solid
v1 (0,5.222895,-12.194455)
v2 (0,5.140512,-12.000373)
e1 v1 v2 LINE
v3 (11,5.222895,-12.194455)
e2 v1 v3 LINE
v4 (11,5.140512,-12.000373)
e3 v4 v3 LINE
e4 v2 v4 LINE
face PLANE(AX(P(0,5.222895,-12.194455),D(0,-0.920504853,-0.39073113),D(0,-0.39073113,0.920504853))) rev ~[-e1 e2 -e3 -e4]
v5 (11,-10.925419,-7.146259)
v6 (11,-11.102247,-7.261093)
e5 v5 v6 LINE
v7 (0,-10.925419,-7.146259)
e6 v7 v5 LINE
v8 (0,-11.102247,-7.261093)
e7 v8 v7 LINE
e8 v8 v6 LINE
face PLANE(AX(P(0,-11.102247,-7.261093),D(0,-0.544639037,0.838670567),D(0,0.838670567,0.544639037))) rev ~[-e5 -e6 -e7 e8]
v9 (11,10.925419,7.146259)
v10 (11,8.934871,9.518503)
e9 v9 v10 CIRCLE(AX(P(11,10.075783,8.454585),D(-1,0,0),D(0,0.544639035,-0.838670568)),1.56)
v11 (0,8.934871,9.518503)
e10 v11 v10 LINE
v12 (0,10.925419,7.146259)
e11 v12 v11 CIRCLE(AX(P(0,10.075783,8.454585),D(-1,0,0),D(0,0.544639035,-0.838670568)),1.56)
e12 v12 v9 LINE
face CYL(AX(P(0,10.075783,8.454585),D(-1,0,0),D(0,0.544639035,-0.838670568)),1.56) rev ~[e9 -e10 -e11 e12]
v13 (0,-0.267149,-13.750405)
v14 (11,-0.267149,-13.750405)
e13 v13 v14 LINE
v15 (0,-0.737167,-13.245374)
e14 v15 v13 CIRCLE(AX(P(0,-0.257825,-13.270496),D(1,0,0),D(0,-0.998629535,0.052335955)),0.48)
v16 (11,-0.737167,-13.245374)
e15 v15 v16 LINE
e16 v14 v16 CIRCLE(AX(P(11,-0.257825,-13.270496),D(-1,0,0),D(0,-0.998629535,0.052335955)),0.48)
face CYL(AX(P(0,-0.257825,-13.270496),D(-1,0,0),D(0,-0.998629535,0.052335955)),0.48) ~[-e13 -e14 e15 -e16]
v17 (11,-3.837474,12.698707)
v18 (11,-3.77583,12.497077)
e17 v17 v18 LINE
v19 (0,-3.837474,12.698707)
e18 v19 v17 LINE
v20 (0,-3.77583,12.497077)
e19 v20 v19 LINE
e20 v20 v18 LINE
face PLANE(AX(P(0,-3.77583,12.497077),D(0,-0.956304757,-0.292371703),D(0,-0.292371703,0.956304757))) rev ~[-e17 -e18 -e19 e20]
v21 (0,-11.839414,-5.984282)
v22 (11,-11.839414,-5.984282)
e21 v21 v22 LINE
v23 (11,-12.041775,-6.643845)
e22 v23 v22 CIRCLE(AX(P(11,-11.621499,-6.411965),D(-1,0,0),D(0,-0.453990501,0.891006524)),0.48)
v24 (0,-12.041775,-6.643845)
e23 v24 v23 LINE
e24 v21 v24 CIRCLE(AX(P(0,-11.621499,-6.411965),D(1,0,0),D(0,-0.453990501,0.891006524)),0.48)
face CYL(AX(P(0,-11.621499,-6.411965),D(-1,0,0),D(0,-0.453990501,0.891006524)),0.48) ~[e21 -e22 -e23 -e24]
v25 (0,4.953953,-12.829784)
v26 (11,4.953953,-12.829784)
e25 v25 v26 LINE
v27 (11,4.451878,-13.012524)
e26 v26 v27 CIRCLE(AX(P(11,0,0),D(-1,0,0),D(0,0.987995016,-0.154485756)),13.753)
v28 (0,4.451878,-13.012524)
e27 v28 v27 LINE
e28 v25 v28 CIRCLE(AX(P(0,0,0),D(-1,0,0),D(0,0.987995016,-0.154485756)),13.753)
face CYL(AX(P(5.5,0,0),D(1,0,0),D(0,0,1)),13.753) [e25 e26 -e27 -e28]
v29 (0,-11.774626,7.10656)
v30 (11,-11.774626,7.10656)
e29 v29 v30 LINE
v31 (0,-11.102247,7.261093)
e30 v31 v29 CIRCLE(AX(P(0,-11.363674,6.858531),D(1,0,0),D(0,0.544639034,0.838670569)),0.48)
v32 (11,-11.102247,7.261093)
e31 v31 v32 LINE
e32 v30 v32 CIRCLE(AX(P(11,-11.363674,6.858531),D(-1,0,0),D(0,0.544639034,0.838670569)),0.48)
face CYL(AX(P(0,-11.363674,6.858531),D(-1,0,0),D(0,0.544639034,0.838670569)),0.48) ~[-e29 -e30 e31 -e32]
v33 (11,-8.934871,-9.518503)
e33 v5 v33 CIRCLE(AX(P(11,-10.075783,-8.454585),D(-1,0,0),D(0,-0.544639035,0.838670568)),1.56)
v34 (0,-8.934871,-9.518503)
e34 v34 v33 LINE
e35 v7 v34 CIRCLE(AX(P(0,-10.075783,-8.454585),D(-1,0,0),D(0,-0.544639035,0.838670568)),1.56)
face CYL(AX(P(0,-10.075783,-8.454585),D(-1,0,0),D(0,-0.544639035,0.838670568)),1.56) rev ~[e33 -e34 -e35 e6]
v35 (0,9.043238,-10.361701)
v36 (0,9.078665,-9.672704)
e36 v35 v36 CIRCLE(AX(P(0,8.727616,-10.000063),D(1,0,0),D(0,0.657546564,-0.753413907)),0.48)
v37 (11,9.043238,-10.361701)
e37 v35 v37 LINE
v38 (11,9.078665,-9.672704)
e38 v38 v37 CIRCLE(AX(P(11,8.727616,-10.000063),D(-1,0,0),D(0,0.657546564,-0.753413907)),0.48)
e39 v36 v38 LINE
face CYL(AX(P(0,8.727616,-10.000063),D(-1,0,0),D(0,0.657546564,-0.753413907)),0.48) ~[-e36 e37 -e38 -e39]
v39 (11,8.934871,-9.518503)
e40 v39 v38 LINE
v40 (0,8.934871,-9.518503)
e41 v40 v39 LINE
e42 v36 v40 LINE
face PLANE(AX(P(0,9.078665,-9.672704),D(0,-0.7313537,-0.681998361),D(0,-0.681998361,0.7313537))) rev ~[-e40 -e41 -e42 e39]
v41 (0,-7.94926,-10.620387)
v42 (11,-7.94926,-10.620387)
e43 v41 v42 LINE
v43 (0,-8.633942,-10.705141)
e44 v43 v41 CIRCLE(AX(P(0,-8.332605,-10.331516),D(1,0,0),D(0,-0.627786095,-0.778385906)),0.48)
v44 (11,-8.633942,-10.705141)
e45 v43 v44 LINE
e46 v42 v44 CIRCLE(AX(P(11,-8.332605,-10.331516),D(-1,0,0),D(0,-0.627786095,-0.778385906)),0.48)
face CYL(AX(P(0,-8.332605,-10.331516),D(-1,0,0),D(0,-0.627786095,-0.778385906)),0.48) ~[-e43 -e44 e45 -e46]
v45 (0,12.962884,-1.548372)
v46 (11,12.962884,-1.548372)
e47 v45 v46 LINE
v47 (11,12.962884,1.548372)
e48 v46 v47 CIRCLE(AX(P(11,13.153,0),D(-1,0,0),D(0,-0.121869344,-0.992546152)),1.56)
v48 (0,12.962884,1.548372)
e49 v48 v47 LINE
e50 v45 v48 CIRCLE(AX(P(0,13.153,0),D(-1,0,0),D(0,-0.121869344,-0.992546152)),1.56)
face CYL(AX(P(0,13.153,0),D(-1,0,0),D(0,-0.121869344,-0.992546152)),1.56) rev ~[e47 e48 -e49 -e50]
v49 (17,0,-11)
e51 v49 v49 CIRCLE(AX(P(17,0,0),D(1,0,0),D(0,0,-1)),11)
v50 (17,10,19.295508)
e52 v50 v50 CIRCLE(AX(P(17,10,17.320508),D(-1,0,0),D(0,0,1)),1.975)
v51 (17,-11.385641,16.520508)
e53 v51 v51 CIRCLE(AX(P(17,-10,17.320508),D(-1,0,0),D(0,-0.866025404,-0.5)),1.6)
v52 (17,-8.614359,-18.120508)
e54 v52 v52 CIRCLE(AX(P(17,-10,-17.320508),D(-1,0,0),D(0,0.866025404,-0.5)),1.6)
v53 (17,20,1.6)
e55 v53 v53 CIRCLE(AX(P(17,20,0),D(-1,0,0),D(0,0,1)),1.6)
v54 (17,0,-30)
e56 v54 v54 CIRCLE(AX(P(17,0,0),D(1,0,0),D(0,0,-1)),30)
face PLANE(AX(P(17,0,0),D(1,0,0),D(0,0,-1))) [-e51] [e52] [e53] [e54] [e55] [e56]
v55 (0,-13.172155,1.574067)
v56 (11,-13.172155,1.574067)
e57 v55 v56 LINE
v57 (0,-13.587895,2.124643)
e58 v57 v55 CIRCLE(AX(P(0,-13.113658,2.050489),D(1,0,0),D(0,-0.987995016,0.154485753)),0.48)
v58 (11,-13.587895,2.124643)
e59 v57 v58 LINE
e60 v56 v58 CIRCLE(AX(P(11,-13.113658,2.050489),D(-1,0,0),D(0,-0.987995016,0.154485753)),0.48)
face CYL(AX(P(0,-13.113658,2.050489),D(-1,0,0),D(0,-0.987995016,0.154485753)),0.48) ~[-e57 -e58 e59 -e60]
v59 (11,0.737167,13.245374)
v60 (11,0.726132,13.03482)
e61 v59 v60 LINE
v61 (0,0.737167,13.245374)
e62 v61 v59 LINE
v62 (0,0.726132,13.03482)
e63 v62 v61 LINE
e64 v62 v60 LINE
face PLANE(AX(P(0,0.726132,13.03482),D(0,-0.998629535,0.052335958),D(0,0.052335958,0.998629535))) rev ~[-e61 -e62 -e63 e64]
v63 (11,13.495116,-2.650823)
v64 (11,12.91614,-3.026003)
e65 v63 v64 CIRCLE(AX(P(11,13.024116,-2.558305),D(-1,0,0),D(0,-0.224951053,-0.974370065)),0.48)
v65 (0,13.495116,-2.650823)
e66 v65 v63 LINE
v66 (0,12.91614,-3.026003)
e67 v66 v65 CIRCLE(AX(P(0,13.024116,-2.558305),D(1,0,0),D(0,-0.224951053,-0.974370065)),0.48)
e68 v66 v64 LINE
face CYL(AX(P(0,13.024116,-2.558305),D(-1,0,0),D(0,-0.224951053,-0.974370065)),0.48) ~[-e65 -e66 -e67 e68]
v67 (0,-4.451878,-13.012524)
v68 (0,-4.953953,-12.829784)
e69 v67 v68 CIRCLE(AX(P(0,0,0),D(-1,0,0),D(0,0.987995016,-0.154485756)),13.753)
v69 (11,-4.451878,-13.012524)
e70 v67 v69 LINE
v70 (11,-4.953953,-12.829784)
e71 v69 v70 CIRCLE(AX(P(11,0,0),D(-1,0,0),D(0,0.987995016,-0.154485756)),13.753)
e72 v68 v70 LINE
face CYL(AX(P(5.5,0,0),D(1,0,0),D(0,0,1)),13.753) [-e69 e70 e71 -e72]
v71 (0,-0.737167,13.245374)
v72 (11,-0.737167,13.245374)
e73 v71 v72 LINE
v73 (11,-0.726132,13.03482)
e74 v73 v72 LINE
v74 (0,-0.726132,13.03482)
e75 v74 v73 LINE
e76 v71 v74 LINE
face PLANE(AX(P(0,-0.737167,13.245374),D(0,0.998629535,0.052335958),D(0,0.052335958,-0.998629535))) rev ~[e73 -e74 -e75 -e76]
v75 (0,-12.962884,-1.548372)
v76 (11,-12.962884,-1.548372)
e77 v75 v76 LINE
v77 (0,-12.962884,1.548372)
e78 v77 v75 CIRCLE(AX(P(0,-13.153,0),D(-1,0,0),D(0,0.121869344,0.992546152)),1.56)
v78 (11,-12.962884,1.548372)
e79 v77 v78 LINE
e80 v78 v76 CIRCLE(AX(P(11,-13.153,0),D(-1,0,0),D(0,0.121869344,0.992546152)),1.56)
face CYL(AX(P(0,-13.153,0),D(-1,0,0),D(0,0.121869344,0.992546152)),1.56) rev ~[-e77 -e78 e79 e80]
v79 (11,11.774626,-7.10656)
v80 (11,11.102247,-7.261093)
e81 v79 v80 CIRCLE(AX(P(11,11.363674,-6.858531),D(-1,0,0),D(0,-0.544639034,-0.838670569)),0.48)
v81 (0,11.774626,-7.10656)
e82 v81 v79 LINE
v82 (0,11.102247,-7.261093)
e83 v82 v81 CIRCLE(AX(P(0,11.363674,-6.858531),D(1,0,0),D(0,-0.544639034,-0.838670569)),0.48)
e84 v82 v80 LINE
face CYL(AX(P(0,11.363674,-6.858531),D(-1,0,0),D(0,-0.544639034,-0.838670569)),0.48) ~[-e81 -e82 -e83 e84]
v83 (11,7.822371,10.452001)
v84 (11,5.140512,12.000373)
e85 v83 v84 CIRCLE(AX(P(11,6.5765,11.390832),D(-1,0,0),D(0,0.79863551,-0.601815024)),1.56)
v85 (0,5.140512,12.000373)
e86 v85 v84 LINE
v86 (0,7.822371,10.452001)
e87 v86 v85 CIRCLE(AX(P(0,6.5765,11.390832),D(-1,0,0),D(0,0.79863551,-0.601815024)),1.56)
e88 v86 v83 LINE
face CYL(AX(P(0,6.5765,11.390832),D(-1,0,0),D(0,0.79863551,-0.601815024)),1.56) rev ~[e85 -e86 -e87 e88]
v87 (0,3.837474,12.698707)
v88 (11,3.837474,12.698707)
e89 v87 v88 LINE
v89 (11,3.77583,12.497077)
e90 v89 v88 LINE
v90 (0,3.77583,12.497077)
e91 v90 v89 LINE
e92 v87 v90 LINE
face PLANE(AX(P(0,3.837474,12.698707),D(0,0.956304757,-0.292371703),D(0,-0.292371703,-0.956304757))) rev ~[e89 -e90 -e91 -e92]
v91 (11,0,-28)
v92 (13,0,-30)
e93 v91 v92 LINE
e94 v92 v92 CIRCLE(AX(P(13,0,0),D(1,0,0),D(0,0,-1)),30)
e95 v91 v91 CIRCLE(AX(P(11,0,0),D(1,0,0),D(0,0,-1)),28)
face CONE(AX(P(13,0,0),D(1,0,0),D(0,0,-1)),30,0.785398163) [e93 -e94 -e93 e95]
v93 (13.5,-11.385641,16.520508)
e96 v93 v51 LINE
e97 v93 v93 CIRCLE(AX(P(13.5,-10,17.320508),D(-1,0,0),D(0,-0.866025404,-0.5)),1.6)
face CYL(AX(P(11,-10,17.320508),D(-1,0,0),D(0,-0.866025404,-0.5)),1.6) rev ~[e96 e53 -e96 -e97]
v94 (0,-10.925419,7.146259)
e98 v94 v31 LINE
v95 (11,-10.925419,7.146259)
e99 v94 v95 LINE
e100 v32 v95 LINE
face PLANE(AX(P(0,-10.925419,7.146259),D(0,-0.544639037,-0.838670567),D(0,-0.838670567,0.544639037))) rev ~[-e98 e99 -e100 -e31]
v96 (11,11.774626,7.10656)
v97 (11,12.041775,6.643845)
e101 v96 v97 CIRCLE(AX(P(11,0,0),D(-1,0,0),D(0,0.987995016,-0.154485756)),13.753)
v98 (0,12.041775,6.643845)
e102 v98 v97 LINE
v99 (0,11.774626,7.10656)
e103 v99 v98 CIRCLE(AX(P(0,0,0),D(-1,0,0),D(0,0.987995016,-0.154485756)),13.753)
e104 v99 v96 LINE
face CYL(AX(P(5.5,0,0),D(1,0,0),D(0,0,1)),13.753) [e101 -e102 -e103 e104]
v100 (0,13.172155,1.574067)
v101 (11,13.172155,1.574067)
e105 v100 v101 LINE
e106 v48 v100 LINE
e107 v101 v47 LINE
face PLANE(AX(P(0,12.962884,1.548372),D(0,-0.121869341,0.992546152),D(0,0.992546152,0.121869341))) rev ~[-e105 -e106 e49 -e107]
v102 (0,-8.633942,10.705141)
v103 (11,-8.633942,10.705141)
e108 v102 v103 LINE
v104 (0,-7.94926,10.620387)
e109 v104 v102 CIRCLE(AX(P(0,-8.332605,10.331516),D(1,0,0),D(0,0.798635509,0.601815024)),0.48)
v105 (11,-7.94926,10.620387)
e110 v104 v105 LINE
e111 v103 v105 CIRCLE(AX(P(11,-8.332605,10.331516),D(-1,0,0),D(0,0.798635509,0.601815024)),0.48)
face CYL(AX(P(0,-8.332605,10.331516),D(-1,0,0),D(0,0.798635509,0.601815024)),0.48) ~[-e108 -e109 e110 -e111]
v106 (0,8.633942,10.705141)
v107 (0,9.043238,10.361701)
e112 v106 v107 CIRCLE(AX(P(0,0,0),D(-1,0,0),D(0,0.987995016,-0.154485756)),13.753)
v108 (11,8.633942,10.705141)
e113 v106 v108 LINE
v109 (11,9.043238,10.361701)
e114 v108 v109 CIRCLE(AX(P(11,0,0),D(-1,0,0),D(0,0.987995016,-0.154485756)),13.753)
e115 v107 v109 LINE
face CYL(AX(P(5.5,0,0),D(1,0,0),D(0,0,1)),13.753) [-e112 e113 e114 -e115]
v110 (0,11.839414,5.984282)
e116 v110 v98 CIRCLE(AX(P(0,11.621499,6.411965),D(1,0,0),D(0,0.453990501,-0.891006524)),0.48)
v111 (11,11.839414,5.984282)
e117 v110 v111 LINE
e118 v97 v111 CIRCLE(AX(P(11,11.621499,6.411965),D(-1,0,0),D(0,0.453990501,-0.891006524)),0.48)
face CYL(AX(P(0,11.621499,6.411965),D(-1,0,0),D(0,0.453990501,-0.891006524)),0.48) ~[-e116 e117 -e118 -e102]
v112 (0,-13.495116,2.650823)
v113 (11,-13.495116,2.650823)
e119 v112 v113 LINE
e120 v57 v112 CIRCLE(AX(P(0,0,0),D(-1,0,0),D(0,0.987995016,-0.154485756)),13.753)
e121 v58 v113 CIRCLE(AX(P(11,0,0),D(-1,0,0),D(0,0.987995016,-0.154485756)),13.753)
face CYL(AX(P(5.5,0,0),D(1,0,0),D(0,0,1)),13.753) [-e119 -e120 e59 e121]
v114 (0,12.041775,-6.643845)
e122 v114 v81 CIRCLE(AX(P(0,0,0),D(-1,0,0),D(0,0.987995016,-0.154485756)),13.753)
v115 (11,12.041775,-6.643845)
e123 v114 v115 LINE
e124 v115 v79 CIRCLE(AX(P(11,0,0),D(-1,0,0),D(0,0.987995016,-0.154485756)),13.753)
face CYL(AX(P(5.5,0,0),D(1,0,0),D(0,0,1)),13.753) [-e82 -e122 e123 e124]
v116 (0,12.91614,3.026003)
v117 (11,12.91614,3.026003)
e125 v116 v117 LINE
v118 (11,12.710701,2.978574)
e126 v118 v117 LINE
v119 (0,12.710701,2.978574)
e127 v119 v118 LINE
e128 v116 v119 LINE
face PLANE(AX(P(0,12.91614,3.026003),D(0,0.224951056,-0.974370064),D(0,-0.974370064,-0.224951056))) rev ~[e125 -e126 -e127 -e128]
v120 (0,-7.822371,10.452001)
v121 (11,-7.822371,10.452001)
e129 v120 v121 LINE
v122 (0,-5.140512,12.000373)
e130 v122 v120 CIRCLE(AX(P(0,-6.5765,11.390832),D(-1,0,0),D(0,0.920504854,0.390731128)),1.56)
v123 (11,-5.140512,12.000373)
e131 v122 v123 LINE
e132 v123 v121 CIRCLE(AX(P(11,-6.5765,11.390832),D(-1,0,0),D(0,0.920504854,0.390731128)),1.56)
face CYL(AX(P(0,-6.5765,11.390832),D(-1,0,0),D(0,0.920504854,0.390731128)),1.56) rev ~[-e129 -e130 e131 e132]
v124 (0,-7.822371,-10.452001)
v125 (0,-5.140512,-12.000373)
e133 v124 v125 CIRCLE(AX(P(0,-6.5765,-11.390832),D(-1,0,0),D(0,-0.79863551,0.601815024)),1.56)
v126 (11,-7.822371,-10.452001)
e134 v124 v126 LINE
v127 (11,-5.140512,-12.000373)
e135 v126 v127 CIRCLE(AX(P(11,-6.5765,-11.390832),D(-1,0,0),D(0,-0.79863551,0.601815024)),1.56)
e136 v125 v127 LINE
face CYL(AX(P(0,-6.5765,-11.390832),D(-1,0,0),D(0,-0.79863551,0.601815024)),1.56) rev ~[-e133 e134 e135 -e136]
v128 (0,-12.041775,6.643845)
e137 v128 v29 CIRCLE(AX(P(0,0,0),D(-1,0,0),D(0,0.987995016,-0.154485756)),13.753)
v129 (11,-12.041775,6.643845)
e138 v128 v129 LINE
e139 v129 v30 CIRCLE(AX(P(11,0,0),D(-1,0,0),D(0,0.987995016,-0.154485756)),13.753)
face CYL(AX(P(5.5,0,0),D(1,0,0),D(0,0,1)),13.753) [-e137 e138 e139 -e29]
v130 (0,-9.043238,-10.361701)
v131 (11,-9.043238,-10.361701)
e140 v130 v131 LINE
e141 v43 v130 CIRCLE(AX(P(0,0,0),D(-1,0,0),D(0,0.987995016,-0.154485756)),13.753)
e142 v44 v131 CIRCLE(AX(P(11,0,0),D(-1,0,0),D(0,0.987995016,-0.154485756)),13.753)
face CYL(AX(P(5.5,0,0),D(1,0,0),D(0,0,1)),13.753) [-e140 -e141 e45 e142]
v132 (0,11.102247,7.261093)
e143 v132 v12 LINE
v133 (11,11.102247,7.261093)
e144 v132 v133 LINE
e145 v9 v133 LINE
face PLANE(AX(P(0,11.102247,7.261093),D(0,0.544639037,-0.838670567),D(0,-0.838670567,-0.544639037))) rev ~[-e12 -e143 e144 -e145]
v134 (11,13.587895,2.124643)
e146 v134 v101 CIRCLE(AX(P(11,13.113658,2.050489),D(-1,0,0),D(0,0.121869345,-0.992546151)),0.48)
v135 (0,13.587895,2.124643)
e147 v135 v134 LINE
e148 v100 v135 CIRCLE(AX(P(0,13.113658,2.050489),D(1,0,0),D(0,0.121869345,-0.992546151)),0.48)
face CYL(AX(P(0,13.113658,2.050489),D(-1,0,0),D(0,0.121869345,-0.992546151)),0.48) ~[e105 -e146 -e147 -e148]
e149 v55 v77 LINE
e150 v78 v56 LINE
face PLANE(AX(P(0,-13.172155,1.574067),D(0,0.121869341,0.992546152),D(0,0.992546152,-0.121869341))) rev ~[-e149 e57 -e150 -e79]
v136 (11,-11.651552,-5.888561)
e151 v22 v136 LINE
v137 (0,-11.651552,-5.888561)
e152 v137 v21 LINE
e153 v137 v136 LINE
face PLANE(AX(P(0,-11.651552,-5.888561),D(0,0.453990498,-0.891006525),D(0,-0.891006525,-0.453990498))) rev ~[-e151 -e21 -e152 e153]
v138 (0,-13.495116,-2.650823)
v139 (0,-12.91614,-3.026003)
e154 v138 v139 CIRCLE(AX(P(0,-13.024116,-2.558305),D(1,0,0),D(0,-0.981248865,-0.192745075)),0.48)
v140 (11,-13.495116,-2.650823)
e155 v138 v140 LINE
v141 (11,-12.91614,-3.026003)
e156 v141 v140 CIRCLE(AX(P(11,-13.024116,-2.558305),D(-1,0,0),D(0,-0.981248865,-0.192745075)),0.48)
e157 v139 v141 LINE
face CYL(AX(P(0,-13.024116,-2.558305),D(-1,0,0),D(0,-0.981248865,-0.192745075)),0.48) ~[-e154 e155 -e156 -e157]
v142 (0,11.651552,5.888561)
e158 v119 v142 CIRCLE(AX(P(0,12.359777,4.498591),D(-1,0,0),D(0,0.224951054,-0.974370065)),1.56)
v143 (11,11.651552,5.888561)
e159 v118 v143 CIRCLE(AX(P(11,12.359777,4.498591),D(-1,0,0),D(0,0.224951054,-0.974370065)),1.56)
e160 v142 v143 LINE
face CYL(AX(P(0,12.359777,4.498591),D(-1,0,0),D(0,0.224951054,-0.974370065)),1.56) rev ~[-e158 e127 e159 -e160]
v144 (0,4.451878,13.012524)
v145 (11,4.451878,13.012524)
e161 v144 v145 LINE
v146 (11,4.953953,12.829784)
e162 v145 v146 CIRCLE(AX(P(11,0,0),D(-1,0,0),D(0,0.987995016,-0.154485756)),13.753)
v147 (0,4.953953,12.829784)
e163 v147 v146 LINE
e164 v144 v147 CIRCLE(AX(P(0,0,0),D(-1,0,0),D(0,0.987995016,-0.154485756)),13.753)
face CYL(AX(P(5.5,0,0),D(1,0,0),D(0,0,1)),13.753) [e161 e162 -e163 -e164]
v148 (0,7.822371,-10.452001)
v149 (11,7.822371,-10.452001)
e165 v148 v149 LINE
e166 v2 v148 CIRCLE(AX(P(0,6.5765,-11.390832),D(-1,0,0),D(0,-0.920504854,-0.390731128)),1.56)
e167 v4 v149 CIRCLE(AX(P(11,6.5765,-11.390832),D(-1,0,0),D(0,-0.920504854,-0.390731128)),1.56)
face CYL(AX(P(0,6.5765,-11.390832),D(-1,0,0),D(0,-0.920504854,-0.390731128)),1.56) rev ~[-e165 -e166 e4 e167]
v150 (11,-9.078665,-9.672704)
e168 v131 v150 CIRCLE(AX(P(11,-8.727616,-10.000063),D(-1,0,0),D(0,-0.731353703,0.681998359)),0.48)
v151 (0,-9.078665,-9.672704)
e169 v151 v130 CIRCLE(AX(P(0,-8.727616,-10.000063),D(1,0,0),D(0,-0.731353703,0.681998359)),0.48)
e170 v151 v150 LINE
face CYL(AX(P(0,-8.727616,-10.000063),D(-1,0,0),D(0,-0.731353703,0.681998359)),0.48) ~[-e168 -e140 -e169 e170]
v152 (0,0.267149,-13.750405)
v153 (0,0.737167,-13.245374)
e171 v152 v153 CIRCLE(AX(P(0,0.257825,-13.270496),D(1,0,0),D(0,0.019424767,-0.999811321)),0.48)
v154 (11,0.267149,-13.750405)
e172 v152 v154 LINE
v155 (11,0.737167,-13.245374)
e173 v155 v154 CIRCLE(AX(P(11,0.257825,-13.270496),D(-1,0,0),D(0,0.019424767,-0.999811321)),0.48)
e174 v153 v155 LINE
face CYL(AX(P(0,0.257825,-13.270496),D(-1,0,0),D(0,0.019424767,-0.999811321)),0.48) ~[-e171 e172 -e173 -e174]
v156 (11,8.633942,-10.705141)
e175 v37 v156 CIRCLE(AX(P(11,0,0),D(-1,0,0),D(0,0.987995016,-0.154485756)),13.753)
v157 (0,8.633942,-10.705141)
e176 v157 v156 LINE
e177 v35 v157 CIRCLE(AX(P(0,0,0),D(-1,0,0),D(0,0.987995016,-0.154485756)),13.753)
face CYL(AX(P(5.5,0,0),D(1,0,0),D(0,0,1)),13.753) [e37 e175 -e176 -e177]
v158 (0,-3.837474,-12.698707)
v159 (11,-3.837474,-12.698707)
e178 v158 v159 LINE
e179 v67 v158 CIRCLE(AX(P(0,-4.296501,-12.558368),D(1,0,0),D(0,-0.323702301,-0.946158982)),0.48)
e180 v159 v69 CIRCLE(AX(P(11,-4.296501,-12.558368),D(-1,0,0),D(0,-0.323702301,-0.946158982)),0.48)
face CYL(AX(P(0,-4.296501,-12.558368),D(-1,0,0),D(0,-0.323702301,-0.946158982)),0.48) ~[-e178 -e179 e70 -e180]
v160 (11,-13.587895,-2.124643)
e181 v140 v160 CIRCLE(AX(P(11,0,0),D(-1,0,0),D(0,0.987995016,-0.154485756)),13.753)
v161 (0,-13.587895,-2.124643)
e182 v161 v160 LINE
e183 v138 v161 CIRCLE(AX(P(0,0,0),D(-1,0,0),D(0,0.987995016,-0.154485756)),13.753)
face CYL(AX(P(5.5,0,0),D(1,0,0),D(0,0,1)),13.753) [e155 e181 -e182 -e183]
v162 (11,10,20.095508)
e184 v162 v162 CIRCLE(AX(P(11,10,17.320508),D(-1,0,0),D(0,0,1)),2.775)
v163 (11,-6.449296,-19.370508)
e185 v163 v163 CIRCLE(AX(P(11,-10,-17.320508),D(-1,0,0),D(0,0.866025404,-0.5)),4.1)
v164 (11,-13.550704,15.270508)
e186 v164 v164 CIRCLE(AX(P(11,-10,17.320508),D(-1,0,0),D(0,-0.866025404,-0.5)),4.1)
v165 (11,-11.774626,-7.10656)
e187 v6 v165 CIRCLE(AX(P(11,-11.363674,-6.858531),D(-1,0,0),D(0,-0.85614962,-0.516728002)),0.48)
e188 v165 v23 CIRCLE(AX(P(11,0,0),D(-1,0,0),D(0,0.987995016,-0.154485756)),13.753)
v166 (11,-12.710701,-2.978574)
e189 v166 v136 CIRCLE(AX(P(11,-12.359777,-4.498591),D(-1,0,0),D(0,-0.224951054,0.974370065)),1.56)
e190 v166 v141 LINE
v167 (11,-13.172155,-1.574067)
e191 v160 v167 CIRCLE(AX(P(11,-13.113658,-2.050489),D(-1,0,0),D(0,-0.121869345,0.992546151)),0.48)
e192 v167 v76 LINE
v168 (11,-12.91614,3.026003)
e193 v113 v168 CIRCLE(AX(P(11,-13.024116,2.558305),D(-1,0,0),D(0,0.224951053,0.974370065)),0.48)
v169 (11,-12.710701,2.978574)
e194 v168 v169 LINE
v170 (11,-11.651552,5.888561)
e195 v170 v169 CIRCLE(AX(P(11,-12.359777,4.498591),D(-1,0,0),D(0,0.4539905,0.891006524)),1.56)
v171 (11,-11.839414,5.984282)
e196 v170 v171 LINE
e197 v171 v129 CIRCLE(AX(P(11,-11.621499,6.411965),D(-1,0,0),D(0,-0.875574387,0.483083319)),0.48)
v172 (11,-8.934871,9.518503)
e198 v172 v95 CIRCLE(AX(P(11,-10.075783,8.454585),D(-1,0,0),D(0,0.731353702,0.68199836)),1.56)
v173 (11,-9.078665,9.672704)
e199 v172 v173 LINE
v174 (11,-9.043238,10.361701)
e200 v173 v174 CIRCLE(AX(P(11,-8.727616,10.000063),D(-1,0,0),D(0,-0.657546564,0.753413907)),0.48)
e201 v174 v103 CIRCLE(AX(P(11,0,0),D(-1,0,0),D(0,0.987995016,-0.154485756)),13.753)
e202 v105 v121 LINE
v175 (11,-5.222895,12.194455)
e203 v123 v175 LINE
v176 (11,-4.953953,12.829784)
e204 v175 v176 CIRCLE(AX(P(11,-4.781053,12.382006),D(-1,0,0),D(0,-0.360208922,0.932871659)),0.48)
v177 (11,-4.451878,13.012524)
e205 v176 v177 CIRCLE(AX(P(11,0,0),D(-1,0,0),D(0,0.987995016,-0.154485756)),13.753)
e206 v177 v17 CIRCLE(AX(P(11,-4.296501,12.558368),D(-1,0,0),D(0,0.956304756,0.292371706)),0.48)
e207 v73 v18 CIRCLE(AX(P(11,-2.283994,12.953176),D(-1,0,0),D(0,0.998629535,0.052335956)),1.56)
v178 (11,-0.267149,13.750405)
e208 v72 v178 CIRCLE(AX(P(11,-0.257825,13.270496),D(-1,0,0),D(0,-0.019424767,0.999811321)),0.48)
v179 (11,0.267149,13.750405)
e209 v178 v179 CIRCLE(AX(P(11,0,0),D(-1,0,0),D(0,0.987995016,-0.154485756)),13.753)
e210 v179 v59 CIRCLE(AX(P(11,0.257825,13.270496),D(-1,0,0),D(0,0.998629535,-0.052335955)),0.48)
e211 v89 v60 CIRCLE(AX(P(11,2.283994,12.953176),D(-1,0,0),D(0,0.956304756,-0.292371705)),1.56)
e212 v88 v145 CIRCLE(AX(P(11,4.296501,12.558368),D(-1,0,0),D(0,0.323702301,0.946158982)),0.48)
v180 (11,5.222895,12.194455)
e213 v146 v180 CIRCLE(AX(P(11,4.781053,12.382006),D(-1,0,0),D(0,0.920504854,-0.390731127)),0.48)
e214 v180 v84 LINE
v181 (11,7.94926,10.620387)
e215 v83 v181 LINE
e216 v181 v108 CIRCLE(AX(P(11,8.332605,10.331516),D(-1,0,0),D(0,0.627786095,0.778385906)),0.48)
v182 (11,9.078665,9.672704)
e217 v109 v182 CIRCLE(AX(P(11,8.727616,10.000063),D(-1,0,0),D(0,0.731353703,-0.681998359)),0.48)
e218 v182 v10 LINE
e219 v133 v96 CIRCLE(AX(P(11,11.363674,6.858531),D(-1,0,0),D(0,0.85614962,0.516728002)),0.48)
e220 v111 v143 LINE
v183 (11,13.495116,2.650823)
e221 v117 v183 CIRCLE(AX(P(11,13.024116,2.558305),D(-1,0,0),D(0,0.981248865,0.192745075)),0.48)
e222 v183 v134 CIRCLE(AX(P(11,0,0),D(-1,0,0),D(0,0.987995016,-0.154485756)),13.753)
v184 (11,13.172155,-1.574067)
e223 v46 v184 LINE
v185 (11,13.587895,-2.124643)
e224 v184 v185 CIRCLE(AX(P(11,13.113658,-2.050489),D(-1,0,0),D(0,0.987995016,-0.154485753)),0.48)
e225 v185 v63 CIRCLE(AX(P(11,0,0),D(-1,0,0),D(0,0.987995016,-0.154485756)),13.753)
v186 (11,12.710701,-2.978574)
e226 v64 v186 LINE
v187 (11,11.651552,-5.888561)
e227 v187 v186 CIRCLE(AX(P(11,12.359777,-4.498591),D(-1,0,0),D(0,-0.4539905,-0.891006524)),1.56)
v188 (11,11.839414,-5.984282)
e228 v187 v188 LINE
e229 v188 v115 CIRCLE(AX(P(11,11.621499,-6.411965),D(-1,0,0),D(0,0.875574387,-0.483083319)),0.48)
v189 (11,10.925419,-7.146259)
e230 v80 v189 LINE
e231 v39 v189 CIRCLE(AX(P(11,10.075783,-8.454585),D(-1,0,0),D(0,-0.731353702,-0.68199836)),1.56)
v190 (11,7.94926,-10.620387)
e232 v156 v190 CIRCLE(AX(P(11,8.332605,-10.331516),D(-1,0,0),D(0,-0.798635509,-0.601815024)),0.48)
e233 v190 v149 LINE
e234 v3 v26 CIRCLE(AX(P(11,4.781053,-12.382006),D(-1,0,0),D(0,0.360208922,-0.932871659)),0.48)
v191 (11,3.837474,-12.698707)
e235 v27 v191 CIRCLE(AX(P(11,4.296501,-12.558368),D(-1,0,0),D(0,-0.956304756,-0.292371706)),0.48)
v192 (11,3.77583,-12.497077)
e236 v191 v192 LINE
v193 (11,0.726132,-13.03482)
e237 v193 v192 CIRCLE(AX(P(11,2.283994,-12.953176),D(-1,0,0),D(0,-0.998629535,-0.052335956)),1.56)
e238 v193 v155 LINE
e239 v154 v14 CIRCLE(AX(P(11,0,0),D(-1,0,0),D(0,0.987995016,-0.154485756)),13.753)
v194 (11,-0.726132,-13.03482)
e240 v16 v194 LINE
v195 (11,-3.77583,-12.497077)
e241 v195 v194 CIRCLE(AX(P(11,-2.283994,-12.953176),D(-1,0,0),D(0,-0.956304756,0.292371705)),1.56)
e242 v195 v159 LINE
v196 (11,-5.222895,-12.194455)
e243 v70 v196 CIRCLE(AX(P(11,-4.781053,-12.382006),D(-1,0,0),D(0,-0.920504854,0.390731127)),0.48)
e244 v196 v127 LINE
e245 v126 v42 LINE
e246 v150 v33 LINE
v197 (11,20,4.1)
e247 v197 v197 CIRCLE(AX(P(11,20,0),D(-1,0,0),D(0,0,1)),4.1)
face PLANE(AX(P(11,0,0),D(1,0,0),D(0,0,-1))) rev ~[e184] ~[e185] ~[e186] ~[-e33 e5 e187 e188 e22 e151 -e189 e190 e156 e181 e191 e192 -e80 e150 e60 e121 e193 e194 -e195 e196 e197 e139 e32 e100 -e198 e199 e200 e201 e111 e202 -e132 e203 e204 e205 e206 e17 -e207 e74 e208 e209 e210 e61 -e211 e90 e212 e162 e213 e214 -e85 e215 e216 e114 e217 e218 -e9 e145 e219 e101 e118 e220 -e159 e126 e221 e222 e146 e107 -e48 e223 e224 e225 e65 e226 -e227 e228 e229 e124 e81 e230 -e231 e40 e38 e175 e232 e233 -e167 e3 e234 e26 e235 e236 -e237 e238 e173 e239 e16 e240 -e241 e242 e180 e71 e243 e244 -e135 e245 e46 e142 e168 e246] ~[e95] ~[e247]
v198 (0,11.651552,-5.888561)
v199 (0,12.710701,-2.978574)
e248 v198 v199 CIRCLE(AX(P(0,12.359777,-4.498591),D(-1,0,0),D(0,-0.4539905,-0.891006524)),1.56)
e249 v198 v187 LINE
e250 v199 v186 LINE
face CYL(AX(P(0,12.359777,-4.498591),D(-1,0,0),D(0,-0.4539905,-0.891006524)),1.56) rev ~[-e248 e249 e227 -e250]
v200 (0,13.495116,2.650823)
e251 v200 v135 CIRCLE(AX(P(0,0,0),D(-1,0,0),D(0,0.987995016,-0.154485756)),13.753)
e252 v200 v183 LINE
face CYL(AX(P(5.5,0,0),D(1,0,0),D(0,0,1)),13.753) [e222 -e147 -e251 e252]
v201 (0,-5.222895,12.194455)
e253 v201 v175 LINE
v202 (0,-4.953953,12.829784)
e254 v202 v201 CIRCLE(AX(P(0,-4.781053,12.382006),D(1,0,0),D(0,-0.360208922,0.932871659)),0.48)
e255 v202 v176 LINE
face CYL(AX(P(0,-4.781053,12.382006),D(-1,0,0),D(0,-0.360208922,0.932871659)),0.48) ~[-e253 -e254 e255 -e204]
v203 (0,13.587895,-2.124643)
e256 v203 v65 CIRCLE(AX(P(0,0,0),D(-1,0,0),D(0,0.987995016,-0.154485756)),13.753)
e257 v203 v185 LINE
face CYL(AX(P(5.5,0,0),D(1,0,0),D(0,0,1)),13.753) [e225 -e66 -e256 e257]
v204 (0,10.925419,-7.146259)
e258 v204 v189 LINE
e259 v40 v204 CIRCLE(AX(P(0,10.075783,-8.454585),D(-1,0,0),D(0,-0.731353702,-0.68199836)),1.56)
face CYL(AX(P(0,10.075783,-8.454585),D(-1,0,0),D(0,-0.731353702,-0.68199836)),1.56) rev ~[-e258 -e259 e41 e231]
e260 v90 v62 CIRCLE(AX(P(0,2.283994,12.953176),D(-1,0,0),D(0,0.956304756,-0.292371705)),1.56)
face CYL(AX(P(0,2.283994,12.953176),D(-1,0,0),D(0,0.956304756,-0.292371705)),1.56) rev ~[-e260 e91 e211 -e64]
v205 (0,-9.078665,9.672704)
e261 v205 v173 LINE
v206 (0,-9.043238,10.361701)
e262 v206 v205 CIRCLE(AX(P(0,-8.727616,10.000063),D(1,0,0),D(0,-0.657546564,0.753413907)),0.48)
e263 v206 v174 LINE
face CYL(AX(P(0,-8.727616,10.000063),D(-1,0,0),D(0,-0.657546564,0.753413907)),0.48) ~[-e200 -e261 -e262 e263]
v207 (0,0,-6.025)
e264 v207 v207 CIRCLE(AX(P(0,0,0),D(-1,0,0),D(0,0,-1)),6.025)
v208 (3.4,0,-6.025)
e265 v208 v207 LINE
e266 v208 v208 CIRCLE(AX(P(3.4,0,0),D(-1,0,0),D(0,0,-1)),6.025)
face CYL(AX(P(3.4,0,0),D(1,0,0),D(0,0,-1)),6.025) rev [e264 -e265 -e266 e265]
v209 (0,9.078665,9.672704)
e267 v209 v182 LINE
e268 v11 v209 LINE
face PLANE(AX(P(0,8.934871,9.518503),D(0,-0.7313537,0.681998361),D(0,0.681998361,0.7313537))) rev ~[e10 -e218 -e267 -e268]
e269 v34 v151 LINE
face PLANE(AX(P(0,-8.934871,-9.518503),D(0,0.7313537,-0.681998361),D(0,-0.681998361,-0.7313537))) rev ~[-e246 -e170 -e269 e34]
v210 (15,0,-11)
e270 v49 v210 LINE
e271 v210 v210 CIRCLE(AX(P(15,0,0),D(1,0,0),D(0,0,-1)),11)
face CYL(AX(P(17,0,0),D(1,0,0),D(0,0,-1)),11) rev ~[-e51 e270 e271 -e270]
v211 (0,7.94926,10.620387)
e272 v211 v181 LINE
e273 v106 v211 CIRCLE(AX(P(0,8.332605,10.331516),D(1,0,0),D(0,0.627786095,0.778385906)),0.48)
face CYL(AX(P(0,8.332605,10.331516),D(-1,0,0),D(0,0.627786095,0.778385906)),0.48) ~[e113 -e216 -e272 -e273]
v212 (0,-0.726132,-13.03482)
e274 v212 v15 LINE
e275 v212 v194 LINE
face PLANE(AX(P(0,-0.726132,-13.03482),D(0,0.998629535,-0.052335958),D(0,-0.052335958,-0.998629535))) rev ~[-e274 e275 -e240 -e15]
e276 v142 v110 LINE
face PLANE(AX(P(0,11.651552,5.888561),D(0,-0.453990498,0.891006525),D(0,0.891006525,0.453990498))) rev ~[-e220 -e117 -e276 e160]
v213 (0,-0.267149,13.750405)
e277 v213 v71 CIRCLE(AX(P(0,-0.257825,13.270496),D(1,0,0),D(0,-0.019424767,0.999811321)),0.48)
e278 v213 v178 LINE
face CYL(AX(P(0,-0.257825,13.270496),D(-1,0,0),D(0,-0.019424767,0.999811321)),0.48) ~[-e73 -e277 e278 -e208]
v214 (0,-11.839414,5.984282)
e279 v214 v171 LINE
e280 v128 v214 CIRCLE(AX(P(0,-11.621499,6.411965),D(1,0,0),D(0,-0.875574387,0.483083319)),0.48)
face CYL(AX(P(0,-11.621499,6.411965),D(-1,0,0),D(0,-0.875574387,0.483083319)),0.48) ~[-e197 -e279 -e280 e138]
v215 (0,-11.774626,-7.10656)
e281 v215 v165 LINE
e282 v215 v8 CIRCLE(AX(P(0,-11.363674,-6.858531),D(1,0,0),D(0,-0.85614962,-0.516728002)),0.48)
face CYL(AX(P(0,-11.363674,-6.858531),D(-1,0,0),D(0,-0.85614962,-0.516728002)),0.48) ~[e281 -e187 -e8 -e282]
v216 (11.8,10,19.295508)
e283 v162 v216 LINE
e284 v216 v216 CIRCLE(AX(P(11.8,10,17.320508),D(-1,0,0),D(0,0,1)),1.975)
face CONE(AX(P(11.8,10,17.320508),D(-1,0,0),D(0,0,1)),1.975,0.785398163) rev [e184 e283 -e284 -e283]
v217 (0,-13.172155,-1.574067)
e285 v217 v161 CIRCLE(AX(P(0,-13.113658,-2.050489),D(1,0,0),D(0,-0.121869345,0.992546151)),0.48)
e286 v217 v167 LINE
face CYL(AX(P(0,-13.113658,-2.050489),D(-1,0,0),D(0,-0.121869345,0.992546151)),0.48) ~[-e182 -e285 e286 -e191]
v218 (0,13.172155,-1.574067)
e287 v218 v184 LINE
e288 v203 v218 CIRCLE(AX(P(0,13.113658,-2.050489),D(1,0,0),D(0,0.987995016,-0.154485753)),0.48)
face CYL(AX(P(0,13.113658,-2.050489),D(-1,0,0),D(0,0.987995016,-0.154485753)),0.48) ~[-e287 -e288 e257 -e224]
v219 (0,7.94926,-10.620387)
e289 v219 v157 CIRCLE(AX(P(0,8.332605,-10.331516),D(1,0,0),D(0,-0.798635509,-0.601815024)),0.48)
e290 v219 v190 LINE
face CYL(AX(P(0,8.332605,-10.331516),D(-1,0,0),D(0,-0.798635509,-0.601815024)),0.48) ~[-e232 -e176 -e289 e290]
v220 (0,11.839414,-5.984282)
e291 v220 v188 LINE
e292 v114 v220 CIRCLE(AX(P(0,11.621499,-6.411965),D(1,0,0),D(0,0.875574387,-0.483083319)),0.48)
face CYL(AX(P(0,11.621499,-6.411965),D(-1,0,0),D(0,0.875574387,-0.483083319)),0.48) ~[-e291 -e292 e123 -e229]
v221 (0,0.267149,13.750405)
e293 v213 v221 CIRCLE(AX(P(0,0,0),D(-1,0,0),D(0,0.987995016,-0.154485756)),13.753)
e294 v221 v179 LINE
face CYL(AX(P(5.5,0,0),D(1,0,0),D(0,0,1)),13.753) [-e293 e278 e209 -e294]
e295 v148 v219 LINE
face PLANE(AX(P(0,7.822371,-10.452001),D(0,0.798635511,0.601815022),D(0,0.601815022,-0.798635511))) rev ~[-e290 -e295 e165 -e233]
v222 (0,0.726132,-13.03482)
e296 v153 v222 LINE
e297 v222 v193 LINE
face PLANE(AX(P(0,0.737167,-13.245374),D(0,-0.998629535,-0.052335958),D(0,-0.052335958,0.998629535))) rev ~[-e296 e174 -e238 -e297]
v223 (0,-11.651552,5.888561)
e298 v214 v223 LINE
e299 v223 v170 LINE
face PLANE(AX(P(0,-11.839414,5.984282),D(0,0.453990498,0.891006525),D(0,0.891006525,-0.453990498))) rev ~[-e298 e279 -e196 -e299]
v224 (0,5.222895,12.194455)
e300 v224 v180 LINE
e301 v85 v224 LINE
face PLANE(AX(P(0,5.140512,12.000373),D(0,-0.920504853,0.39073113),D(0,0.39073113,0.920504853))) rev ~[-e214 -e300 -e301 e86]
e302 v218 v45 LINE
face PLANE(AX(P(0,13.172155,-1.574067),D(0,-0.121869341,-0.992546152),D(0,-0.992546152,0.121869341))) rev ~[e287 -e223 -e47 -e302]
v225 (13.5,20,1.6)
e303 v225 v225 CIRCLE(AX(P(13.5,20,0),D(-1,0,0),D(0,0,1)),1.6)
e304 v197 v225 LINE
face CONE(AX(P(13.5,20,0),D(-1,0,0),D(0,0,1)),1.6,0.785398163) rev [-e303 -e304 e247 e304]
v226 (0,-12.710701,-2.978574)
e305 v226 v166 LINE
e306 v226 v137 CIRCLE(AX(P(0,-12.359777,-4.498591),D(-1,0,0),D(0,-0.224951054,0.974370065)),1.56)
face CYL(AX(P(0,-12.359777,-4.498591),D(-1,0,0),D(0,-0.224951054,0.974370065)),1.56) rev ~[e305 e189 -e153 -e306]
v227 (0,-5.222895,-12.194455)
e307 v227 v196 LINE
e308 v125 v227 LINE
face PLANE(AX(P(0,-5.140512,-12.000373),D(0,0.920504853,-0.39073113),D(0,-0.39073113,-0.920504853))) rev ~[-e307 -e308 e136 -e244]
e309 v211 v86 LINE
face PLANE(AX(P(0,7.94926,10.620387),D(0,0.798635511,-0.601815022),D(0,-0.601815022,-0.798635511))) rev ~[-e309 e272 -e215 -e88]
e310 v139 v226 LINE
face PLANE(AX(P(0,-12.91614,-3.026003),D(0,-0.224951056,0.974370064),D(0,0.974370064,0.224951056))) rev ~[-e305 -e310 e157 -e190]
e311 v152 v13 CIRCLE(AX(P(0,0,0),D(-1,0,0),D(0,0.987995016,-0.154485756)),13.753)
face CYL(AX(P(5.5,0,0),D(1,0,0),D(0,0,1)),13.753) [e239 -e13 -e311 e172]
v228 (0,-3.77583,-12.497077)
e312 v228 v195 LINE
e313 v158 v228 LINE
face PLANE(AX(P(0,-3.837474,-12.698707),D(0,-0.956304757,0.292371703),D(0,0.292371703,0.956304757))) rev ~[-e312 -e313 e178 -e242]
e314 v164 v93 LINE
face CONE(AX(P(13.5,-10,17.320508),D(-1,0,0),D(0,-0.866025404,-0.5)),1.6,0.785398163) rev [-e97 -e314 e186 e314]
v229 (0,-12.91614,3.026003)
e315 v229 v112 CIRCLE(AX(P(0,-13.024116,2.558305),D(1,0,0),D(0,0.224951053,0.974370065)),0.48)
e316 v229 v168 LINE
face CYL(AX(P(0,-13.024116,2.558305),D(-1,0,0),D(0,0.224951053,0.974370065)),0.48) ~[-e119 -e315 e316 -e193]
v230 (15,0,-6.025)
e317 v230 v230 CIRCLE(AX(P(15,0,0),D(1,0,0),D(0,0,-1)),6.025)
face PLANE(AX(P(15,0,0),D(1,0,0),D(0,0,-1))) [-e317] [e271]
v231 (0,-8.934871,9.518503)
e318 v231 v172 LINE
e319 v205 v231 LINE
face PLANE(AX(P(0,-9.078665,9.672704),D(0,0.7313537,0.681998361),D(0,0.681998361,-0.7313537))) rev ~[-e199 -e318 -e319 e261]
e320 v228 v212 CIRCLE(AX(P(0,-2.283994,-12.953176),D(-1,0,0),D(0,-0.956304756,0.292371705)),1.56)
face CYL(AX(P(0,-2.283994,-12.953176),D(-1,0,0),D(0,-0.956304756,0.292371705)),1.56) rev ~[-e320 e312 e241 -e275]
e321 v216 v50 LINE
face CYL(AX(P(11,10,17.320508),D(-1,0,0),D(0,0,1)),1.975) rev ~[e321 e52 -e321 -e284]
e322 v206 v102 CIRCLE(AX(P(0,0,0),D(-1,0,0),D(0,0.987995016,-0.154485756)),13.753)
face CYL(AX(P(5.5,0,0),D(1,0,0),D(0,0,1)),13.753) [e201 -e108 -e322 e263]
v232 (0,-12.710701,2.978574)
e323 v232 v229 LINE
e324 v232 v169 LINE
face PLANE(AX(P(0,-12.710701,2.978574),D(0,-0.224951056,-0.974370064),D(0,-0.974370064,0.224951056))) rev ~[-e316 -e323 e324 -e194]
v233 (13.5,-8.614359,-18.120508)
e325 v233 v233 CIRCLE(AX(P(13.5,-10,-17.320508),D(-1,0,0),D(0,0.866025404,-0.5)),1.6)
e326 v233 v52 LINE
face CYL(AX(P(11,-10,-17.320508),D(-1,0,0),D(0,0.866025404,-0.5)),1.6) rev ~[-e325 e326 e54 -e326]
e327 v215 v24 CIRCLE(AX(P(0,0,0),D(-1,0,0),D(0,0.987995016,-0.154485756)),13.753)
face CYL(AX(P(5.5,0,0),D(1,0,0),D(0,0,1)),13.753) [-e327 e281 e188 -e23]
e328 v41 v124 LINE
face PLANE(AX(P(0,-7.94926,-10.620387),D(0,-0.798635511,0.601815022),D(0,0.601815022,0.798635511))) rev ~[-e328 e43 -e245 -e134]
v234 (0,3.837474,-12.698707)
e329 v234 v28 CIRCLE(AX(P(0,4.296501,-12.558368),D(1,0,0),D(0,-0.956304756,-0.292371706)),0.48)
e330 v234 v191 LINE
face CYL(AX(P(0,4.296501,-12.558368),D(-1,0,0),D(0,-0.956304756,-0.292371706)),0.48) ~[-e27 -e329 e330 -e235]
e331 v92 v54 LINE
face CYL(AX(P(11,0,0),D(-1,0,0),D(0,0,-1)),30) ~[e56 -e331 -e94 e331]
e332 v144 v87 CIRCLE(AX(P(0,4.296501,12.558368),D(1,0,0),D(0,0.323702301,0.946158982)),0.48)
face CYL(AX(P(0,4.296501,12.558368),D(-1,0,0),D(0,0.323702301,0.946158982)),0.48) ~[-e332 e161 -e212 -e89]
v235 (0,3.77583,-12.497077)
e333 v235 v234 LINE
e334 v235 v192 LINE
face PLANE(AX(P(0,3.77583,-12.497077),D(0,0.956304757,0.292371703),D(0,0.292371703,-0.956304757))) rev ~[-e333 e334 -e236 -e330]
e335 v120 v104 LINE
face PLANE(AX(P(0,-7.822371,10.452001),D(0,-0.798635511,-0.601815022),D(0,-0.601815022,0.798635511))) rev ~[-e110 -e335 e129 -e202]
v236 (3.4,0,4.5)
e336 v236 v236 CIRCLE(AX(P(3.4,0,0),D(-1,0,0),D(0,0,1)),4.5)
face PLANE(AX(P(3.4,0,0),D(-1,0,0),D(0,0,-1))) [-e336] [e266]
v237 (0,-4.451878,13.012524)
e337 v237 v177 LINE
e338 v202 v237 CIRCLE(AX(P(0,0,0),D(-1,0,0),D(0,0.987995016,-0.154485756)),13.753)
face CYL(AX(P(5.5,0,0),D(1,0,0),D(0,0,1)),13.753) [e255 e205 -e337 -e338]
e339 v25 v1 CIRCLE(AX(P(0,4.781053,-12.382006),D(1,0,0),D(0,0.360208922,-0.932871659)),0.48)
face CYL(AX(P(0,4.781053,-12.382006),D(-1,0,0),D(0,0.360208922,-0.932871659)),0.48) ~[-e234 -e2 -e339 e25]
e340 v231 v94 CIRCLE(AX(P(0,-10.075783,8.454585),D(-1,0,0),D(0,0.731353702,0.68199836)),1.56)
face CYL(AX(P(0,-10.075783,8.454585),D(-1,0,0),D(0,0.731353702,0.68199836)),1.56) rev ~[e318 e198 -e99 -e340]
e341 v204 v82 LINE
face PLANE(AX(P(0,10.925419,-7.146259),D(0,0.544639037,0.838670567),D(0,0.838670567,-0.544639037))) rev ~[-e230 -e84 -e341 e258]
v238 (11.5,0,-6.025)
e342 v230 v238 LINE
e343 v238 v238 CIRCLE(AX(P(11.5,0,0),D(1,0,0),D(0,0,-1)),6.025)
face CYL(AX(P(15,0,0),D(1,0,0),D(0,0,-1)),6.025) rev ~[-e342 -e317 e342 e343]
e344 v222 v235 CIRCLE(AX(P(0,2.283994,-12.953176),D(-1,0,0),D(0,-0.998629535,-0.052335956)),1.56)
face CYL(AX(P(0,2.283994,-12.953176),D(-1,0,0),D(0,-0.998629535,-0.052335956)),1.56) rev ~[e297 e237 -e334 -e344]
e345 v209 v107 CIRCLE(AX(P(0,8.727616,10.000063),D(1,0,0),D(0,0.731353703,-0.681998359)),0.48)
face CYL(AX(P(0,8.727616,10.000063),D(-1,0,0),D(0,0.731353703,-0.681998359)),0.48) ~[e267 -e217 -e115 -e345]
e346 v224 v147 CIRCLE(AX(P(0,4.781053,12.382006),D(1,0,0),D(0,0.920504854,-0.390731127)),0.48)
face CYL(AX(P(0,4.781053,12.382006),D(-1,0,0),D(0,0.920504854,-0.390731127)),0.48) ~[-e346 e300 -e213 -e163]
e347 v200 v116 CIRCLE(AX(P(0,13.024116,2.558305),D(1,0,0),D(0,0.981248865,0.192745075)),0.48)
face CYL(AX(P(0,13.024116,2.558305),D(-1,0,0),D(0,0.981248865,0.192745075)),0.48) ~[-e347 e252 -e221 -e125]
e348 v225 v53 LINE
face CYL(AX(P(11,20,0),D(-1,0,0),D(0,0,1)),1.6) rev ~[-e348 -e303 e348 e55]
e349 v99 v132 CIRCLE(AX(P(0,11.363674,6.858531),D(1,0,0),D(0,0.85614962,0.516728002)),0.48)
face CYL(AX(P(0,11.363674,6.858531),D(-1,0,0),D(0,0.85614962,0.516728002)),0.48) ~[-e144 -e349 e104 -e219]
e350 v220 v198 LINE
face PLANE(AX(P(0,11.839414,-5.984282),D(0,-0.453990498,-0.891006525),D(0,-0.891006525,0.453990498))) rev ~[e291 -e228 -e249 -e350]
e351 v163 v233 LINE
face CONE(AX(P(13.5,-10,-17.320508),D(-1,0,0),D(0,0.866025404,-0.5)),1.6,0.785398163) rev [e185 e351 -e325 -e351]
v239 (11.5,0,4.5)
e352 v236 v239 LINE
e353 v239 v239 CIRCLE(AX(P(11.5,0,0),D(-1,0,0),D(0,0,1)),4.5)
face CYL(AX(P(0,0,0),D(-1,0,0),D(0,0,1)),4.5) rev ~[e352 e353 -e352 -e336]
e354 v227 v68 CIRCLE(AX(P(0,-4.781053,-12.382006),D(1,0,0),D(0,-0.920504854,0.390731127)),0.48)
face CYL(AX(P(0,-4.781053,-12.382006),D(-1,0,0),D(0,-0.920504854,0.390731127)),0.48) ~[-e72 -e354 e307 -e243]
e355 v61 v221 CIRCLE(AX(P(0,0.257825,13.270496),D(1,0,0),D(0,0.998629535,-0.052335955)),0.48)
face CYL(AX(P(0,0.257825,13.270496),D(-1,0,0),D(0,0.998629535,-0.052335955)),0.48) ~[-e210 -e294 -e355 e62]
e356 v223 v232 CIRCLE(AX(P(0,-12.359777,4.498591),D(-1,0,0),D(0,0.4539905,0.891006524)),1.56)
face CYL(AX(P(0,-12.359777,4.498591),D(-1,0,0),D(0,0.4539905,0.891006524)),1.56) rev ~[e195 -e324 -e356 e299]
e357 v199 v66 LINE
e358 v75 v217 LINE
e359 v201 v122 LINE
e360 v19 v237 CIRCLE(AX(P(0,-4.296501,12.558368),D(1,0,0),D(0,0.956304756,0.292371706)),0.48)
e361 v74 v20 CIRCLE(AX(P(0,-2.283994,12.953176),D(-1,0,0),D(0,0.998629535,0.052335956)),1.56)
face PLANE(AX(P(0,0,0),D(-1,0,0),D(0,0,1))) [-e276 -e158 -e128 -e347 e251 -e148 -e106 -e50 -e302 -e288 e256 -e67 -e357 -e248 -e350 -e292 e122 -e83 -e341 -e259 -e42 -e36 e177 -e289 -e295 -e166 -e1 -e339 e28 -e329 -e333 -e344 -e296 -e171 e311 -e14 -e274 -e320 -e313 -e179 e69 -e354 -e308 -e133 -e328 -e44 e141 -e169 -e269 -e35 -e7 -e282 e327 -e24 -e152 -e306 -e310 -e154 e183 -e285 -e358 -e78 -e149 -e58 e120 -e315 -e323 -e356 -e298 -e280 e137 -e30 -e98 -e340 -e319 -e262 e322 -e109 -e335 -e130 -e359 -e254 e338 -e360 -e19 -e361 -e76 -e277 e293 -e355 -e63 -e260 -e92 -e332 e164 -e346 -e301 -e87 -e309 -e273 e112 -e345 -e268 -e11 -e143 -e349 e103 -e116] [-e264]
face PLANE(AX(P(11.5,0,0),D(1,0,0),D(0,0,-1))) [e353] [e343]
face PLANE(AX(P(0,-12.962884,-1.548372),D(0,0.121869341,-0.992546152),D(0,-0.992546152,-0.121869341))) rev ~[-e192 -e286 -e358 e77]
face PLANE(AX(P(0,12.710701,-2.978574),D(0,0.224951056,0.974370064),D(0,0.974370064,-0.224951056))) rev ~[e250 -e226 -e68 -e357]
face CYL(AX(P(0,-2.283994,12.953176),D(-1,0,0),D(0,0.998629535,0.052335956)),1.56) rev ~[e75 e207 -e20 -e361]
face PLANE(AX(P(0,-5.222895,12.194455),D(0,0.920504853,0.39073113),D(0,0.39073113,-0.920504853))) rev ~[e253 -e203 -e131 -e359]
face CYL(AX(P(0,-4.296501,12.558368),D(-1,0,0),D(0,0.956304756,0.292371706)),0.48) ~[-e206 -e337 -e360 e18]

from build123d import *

# Parameters (mm, degrees)
SKETCH_1_W               = 11
SKETCH_1_H               = 10.9642
CUT_EXTRUDE_2_REACH      = 24.345
PATTERN_CIRCULAR_3_COUNT = 18
SKETCH_7_R               = 30
EXTRUDE_1_DEPTH          = 6
SKETCH_8_R               = 2.7888
EXTRUDE_2_DEPTH          = 11
SKETCH_10_R              = 11
CUT_EXTRUDE_3_DEPTH      = 2
SKETCH_11_R              = 1.6
CUT_EXTRUDE_4_DEPTH      = 44.829214002
PATTERN_CIRCULAR_4_COUNT = 3
SKETCH_13_R              = 1.975
CUT_EXTRUDE_5_DEPTH      = 44.829214002
CHAMFER_1_SIZE           = 0.8
CHAMFER_2_SIZE           = 2.5
CUT_EXTRUDE_START        = -15
SKETCH_14_R              = 4
CUT_EXTRUDE_6_DEPTH      = 10
SKETCH_15_R              = 4.5
CUT_EXTRUDE_7_DEPTH      = 46.705579528
CHAMFER_3_SIZE           = 2
SKETCH_17_R              = 6.025
CUT_EXTRUDE_8_DEPTH      = 3.5
CUT_EXTRUDE_START_2      = -3.4
SKETCH_18_R              = 6.025
CUT_EXTRUDE_9_DEPTH      = 3.4


with BuildPart() as part:
    # 草图1 → 旋转1 (revolve)
    with BuildSketch(Plane.XY, mode=Mode.PRIVATE) as revolve_1_sk:
        with Locations((5.5, 8.2709)):
            Rectangle(SKETCH_1_W, SKETCH_1_H)
    revolve(revolve_1_sk.sketch.rotate(Axis((0, 0, 0), (1, 0, 0)), 90), axis=Axis((0, 0, 0), (1, 0, 0)))

    # 草图6 → 切除-拉伸2 (cut, up to next)
    with BuildSketch(Plane(origin=(0, 0, 0), x_dir=(0, 0, -1), z_dir=(1, 0, 0)), mode=Mode.PRIVATE) as cut_extrude_2_sk1:
        with BuildLine():
            Line((1.574067282, 13.17215513), (1.548371997, 12.962883824))
            ThreePointArc((1.548371997, 12.962883824), (0, 11.593), (-1.548371997, 12.962883824))
            Line((-1.548371997, 12.962883824), (-1.574067282, 13.17215513))
            ThreePointArc((-1.574067282, 13.17215513), (-1.761240253, 13.496717776), (-2.124642597, 13.587895453))
            ThreePointArc((-2.124642597, 13.587895453), (-2.36143787, 13.548749765), (-2.597513963, 13.505477785))
            Line((-2.597513963, 13.505477785), (-2.794161951, 15.107047128))
            ThreePointArc((-2.794161951, 15.107047128), (0, 15.363274844), (2.794161951, 15.107047128))
            Line((2.794161951, 15.107047128), (2.597513963, 13.505477785))
            ThreePointArc((2.597513963, 13.505477785), (2.36143787, 13.548749765), (2.124642597, 13.587895453))
            ThreePointArc((2.124642597, 13.587895453), (1.761240253, 13.496717776), (1.574067282, 13.17215513))
        make_face()
    cut_extrude_2_tool1 = extrude(cut_extrude_2_sk1.sketch, amount=CUT_EXTRUDE_2_REACH, mode=Mode.PRIVATE) & part.part
    cut_extrude_2 = cut_extrude_2_tool1.solids().sort_by_distance((0, 13.819423, 0))[0]
    add(cut_extrude_2, mode=Mode.SUBTRACT)

    # 阵列(圆周)3: 切除-拉伸2 ×18 about axis
    pattern_circular_3_axis = Axis((0, 0, 0), (1, 0, 0))
    for i in range(1, PATTERN_CIRCULAR_3_COUNT):
        add(cut_extrude_2.rotate(pattern_circular_3_axis, i * 360 / PATTERN_CIRCULAR_3_COUNT), mode=Mode.SUBTRACT)

    # 草图7 → 凸台-拉伸1 (add)
    with BuildSketch(Plane(origin=(11, 0, 0), x_dir=(0, 0, -1), z_dir=(1, 0, 0))):
        Circle(SKETCH_7_R)
    extrude(amount=EXTRUDE_1_DEPTH)

    # 草图8 → 凸台-拉伸2 (add)
    with BuildSketch(Plane.ZY):
        Circle(SKETCH_8_R)
    extrude(amount=-EXTRUDE_2_DEPTH)

    # 草图10 → 切除-拉伸3 (cut)
    with BuildSketch(Plane(origin=(17, 0, 0), x_dir=(0, 0, -1), z_dir=(1, 0, 0))):
        Circle(SKETCH_10_R)
    extrude(amount=-CUT_EXTRUDE_3_DEPTH, mode=Mode.SUBTRACT)

    # 草图11 → 切除-拉伸4 (cut, through all)
    with BuildSketch(Plane.ZY.offset(-11)):
        with Locations((0, 20)):
            Circle(SKETCH_11_R)
    cut_extrude_4 = extrude(amount=-CUT_EXTRUDE_4_DEPTH, mode=Mode.SUBTRACT)

    # 阵列(圆周)4: 切除-拉伸4 ×3 about axis
    pattern_circular_4_axis = Axis((0, 0, 0), (1, 0, 0))
    for i in range(1, PATTERN_CIRCULAR_4_COUNT):
        add(cut_extrude_4.rotate(pattern_circular_4_axis, i * 360 / PATTERN_CIRCULAR_4_COUNT), mode=Mode.SUBTRACT)

    # 草图13 → 切除-拉伸5 (cut, through all)
    with BuildSketch(Plane.ZY.offset(-11)):
        with Locations((17.320508076, 10)):
            Circle(SKETCH_13_R)
    extrude(amount=-CUT_EXTRUDE_5_DEPTH, mode=Mode.SUBTRACT)

    # 倒角1
    chamfer_1_edges = [part.edges().sort_by_distance(p)[0] for p in [
        (11, 10, 15.345508076),
    ]]
    chamfer(chamfer_1_edges, length=CHAMFER_1_SIZE)

    # 倒角2
    chamfer_2_edges = [part.edges().sort_by_distance(p)[0] for p in [
        (11, 20, -1.6),
        (11, -8.614359354, 18.120508076),
        (11, -11.385640646, -16.520508076),
    ]]
    chamfer(chamfer_2_edges, length=CHAMFER_2_SIZE)

    # 草图14 → 切除-拉伸6 (cut)
    with BuildSketch(Plane.ZY.offset(CUT_EXTRUDE_START)):
        with Locations(Location((0, 0, 0), (0, 0, 180))):
            Circle(SKETCH_14_R)
    extrude(amount=CUT_EXTRUDE_6_DEPTH, mode=Mode.SUBTRACT)

    # 草图15 → 切除-拉伸7 (cut, through all)
    with BuildSketch(Plane.ZY):
        Circle(SKETCH_15_R)
    extrude(amount=-CUT_EXTRUDE_7_DEPTH, mode=Mode.SUBTRACT)

    # 倒角3
    chamfer_3_edges = [part.edges().sort_by_distance(p)[0] for p in [
        (11, 0, 30),
    ]]
    chamfer(chamfer_3_edges, length=CHAMFER_3_SIZE)

    # 草图17 → 切除-拉伸8 (cut)
    with BuildSketch(Plane(origin=(15, 0, 0), x_dir=(0, 0, -1), z_dir=(1, 0, 0))):
        Circle(SKETCH_17_R)
    extrude(amount=-CUT_EXTRUDE_8_DEPTH, mode=Mode.SUBTRACT)

    # 草图18 → 切除-拉伸9 (cut)
    with BuildSketch(Plane.ZY.offset(CUT_EXTRUDE_START_2)):
        with Locations(Location((0, 0, 0), (0, 0, 180))):
            Circle(SKETCH_18_R)
    extrude(amount=CUT_EXTRUDE_9_DEPTH, mode=Mode.SUBTRACT)


solid = part.part
